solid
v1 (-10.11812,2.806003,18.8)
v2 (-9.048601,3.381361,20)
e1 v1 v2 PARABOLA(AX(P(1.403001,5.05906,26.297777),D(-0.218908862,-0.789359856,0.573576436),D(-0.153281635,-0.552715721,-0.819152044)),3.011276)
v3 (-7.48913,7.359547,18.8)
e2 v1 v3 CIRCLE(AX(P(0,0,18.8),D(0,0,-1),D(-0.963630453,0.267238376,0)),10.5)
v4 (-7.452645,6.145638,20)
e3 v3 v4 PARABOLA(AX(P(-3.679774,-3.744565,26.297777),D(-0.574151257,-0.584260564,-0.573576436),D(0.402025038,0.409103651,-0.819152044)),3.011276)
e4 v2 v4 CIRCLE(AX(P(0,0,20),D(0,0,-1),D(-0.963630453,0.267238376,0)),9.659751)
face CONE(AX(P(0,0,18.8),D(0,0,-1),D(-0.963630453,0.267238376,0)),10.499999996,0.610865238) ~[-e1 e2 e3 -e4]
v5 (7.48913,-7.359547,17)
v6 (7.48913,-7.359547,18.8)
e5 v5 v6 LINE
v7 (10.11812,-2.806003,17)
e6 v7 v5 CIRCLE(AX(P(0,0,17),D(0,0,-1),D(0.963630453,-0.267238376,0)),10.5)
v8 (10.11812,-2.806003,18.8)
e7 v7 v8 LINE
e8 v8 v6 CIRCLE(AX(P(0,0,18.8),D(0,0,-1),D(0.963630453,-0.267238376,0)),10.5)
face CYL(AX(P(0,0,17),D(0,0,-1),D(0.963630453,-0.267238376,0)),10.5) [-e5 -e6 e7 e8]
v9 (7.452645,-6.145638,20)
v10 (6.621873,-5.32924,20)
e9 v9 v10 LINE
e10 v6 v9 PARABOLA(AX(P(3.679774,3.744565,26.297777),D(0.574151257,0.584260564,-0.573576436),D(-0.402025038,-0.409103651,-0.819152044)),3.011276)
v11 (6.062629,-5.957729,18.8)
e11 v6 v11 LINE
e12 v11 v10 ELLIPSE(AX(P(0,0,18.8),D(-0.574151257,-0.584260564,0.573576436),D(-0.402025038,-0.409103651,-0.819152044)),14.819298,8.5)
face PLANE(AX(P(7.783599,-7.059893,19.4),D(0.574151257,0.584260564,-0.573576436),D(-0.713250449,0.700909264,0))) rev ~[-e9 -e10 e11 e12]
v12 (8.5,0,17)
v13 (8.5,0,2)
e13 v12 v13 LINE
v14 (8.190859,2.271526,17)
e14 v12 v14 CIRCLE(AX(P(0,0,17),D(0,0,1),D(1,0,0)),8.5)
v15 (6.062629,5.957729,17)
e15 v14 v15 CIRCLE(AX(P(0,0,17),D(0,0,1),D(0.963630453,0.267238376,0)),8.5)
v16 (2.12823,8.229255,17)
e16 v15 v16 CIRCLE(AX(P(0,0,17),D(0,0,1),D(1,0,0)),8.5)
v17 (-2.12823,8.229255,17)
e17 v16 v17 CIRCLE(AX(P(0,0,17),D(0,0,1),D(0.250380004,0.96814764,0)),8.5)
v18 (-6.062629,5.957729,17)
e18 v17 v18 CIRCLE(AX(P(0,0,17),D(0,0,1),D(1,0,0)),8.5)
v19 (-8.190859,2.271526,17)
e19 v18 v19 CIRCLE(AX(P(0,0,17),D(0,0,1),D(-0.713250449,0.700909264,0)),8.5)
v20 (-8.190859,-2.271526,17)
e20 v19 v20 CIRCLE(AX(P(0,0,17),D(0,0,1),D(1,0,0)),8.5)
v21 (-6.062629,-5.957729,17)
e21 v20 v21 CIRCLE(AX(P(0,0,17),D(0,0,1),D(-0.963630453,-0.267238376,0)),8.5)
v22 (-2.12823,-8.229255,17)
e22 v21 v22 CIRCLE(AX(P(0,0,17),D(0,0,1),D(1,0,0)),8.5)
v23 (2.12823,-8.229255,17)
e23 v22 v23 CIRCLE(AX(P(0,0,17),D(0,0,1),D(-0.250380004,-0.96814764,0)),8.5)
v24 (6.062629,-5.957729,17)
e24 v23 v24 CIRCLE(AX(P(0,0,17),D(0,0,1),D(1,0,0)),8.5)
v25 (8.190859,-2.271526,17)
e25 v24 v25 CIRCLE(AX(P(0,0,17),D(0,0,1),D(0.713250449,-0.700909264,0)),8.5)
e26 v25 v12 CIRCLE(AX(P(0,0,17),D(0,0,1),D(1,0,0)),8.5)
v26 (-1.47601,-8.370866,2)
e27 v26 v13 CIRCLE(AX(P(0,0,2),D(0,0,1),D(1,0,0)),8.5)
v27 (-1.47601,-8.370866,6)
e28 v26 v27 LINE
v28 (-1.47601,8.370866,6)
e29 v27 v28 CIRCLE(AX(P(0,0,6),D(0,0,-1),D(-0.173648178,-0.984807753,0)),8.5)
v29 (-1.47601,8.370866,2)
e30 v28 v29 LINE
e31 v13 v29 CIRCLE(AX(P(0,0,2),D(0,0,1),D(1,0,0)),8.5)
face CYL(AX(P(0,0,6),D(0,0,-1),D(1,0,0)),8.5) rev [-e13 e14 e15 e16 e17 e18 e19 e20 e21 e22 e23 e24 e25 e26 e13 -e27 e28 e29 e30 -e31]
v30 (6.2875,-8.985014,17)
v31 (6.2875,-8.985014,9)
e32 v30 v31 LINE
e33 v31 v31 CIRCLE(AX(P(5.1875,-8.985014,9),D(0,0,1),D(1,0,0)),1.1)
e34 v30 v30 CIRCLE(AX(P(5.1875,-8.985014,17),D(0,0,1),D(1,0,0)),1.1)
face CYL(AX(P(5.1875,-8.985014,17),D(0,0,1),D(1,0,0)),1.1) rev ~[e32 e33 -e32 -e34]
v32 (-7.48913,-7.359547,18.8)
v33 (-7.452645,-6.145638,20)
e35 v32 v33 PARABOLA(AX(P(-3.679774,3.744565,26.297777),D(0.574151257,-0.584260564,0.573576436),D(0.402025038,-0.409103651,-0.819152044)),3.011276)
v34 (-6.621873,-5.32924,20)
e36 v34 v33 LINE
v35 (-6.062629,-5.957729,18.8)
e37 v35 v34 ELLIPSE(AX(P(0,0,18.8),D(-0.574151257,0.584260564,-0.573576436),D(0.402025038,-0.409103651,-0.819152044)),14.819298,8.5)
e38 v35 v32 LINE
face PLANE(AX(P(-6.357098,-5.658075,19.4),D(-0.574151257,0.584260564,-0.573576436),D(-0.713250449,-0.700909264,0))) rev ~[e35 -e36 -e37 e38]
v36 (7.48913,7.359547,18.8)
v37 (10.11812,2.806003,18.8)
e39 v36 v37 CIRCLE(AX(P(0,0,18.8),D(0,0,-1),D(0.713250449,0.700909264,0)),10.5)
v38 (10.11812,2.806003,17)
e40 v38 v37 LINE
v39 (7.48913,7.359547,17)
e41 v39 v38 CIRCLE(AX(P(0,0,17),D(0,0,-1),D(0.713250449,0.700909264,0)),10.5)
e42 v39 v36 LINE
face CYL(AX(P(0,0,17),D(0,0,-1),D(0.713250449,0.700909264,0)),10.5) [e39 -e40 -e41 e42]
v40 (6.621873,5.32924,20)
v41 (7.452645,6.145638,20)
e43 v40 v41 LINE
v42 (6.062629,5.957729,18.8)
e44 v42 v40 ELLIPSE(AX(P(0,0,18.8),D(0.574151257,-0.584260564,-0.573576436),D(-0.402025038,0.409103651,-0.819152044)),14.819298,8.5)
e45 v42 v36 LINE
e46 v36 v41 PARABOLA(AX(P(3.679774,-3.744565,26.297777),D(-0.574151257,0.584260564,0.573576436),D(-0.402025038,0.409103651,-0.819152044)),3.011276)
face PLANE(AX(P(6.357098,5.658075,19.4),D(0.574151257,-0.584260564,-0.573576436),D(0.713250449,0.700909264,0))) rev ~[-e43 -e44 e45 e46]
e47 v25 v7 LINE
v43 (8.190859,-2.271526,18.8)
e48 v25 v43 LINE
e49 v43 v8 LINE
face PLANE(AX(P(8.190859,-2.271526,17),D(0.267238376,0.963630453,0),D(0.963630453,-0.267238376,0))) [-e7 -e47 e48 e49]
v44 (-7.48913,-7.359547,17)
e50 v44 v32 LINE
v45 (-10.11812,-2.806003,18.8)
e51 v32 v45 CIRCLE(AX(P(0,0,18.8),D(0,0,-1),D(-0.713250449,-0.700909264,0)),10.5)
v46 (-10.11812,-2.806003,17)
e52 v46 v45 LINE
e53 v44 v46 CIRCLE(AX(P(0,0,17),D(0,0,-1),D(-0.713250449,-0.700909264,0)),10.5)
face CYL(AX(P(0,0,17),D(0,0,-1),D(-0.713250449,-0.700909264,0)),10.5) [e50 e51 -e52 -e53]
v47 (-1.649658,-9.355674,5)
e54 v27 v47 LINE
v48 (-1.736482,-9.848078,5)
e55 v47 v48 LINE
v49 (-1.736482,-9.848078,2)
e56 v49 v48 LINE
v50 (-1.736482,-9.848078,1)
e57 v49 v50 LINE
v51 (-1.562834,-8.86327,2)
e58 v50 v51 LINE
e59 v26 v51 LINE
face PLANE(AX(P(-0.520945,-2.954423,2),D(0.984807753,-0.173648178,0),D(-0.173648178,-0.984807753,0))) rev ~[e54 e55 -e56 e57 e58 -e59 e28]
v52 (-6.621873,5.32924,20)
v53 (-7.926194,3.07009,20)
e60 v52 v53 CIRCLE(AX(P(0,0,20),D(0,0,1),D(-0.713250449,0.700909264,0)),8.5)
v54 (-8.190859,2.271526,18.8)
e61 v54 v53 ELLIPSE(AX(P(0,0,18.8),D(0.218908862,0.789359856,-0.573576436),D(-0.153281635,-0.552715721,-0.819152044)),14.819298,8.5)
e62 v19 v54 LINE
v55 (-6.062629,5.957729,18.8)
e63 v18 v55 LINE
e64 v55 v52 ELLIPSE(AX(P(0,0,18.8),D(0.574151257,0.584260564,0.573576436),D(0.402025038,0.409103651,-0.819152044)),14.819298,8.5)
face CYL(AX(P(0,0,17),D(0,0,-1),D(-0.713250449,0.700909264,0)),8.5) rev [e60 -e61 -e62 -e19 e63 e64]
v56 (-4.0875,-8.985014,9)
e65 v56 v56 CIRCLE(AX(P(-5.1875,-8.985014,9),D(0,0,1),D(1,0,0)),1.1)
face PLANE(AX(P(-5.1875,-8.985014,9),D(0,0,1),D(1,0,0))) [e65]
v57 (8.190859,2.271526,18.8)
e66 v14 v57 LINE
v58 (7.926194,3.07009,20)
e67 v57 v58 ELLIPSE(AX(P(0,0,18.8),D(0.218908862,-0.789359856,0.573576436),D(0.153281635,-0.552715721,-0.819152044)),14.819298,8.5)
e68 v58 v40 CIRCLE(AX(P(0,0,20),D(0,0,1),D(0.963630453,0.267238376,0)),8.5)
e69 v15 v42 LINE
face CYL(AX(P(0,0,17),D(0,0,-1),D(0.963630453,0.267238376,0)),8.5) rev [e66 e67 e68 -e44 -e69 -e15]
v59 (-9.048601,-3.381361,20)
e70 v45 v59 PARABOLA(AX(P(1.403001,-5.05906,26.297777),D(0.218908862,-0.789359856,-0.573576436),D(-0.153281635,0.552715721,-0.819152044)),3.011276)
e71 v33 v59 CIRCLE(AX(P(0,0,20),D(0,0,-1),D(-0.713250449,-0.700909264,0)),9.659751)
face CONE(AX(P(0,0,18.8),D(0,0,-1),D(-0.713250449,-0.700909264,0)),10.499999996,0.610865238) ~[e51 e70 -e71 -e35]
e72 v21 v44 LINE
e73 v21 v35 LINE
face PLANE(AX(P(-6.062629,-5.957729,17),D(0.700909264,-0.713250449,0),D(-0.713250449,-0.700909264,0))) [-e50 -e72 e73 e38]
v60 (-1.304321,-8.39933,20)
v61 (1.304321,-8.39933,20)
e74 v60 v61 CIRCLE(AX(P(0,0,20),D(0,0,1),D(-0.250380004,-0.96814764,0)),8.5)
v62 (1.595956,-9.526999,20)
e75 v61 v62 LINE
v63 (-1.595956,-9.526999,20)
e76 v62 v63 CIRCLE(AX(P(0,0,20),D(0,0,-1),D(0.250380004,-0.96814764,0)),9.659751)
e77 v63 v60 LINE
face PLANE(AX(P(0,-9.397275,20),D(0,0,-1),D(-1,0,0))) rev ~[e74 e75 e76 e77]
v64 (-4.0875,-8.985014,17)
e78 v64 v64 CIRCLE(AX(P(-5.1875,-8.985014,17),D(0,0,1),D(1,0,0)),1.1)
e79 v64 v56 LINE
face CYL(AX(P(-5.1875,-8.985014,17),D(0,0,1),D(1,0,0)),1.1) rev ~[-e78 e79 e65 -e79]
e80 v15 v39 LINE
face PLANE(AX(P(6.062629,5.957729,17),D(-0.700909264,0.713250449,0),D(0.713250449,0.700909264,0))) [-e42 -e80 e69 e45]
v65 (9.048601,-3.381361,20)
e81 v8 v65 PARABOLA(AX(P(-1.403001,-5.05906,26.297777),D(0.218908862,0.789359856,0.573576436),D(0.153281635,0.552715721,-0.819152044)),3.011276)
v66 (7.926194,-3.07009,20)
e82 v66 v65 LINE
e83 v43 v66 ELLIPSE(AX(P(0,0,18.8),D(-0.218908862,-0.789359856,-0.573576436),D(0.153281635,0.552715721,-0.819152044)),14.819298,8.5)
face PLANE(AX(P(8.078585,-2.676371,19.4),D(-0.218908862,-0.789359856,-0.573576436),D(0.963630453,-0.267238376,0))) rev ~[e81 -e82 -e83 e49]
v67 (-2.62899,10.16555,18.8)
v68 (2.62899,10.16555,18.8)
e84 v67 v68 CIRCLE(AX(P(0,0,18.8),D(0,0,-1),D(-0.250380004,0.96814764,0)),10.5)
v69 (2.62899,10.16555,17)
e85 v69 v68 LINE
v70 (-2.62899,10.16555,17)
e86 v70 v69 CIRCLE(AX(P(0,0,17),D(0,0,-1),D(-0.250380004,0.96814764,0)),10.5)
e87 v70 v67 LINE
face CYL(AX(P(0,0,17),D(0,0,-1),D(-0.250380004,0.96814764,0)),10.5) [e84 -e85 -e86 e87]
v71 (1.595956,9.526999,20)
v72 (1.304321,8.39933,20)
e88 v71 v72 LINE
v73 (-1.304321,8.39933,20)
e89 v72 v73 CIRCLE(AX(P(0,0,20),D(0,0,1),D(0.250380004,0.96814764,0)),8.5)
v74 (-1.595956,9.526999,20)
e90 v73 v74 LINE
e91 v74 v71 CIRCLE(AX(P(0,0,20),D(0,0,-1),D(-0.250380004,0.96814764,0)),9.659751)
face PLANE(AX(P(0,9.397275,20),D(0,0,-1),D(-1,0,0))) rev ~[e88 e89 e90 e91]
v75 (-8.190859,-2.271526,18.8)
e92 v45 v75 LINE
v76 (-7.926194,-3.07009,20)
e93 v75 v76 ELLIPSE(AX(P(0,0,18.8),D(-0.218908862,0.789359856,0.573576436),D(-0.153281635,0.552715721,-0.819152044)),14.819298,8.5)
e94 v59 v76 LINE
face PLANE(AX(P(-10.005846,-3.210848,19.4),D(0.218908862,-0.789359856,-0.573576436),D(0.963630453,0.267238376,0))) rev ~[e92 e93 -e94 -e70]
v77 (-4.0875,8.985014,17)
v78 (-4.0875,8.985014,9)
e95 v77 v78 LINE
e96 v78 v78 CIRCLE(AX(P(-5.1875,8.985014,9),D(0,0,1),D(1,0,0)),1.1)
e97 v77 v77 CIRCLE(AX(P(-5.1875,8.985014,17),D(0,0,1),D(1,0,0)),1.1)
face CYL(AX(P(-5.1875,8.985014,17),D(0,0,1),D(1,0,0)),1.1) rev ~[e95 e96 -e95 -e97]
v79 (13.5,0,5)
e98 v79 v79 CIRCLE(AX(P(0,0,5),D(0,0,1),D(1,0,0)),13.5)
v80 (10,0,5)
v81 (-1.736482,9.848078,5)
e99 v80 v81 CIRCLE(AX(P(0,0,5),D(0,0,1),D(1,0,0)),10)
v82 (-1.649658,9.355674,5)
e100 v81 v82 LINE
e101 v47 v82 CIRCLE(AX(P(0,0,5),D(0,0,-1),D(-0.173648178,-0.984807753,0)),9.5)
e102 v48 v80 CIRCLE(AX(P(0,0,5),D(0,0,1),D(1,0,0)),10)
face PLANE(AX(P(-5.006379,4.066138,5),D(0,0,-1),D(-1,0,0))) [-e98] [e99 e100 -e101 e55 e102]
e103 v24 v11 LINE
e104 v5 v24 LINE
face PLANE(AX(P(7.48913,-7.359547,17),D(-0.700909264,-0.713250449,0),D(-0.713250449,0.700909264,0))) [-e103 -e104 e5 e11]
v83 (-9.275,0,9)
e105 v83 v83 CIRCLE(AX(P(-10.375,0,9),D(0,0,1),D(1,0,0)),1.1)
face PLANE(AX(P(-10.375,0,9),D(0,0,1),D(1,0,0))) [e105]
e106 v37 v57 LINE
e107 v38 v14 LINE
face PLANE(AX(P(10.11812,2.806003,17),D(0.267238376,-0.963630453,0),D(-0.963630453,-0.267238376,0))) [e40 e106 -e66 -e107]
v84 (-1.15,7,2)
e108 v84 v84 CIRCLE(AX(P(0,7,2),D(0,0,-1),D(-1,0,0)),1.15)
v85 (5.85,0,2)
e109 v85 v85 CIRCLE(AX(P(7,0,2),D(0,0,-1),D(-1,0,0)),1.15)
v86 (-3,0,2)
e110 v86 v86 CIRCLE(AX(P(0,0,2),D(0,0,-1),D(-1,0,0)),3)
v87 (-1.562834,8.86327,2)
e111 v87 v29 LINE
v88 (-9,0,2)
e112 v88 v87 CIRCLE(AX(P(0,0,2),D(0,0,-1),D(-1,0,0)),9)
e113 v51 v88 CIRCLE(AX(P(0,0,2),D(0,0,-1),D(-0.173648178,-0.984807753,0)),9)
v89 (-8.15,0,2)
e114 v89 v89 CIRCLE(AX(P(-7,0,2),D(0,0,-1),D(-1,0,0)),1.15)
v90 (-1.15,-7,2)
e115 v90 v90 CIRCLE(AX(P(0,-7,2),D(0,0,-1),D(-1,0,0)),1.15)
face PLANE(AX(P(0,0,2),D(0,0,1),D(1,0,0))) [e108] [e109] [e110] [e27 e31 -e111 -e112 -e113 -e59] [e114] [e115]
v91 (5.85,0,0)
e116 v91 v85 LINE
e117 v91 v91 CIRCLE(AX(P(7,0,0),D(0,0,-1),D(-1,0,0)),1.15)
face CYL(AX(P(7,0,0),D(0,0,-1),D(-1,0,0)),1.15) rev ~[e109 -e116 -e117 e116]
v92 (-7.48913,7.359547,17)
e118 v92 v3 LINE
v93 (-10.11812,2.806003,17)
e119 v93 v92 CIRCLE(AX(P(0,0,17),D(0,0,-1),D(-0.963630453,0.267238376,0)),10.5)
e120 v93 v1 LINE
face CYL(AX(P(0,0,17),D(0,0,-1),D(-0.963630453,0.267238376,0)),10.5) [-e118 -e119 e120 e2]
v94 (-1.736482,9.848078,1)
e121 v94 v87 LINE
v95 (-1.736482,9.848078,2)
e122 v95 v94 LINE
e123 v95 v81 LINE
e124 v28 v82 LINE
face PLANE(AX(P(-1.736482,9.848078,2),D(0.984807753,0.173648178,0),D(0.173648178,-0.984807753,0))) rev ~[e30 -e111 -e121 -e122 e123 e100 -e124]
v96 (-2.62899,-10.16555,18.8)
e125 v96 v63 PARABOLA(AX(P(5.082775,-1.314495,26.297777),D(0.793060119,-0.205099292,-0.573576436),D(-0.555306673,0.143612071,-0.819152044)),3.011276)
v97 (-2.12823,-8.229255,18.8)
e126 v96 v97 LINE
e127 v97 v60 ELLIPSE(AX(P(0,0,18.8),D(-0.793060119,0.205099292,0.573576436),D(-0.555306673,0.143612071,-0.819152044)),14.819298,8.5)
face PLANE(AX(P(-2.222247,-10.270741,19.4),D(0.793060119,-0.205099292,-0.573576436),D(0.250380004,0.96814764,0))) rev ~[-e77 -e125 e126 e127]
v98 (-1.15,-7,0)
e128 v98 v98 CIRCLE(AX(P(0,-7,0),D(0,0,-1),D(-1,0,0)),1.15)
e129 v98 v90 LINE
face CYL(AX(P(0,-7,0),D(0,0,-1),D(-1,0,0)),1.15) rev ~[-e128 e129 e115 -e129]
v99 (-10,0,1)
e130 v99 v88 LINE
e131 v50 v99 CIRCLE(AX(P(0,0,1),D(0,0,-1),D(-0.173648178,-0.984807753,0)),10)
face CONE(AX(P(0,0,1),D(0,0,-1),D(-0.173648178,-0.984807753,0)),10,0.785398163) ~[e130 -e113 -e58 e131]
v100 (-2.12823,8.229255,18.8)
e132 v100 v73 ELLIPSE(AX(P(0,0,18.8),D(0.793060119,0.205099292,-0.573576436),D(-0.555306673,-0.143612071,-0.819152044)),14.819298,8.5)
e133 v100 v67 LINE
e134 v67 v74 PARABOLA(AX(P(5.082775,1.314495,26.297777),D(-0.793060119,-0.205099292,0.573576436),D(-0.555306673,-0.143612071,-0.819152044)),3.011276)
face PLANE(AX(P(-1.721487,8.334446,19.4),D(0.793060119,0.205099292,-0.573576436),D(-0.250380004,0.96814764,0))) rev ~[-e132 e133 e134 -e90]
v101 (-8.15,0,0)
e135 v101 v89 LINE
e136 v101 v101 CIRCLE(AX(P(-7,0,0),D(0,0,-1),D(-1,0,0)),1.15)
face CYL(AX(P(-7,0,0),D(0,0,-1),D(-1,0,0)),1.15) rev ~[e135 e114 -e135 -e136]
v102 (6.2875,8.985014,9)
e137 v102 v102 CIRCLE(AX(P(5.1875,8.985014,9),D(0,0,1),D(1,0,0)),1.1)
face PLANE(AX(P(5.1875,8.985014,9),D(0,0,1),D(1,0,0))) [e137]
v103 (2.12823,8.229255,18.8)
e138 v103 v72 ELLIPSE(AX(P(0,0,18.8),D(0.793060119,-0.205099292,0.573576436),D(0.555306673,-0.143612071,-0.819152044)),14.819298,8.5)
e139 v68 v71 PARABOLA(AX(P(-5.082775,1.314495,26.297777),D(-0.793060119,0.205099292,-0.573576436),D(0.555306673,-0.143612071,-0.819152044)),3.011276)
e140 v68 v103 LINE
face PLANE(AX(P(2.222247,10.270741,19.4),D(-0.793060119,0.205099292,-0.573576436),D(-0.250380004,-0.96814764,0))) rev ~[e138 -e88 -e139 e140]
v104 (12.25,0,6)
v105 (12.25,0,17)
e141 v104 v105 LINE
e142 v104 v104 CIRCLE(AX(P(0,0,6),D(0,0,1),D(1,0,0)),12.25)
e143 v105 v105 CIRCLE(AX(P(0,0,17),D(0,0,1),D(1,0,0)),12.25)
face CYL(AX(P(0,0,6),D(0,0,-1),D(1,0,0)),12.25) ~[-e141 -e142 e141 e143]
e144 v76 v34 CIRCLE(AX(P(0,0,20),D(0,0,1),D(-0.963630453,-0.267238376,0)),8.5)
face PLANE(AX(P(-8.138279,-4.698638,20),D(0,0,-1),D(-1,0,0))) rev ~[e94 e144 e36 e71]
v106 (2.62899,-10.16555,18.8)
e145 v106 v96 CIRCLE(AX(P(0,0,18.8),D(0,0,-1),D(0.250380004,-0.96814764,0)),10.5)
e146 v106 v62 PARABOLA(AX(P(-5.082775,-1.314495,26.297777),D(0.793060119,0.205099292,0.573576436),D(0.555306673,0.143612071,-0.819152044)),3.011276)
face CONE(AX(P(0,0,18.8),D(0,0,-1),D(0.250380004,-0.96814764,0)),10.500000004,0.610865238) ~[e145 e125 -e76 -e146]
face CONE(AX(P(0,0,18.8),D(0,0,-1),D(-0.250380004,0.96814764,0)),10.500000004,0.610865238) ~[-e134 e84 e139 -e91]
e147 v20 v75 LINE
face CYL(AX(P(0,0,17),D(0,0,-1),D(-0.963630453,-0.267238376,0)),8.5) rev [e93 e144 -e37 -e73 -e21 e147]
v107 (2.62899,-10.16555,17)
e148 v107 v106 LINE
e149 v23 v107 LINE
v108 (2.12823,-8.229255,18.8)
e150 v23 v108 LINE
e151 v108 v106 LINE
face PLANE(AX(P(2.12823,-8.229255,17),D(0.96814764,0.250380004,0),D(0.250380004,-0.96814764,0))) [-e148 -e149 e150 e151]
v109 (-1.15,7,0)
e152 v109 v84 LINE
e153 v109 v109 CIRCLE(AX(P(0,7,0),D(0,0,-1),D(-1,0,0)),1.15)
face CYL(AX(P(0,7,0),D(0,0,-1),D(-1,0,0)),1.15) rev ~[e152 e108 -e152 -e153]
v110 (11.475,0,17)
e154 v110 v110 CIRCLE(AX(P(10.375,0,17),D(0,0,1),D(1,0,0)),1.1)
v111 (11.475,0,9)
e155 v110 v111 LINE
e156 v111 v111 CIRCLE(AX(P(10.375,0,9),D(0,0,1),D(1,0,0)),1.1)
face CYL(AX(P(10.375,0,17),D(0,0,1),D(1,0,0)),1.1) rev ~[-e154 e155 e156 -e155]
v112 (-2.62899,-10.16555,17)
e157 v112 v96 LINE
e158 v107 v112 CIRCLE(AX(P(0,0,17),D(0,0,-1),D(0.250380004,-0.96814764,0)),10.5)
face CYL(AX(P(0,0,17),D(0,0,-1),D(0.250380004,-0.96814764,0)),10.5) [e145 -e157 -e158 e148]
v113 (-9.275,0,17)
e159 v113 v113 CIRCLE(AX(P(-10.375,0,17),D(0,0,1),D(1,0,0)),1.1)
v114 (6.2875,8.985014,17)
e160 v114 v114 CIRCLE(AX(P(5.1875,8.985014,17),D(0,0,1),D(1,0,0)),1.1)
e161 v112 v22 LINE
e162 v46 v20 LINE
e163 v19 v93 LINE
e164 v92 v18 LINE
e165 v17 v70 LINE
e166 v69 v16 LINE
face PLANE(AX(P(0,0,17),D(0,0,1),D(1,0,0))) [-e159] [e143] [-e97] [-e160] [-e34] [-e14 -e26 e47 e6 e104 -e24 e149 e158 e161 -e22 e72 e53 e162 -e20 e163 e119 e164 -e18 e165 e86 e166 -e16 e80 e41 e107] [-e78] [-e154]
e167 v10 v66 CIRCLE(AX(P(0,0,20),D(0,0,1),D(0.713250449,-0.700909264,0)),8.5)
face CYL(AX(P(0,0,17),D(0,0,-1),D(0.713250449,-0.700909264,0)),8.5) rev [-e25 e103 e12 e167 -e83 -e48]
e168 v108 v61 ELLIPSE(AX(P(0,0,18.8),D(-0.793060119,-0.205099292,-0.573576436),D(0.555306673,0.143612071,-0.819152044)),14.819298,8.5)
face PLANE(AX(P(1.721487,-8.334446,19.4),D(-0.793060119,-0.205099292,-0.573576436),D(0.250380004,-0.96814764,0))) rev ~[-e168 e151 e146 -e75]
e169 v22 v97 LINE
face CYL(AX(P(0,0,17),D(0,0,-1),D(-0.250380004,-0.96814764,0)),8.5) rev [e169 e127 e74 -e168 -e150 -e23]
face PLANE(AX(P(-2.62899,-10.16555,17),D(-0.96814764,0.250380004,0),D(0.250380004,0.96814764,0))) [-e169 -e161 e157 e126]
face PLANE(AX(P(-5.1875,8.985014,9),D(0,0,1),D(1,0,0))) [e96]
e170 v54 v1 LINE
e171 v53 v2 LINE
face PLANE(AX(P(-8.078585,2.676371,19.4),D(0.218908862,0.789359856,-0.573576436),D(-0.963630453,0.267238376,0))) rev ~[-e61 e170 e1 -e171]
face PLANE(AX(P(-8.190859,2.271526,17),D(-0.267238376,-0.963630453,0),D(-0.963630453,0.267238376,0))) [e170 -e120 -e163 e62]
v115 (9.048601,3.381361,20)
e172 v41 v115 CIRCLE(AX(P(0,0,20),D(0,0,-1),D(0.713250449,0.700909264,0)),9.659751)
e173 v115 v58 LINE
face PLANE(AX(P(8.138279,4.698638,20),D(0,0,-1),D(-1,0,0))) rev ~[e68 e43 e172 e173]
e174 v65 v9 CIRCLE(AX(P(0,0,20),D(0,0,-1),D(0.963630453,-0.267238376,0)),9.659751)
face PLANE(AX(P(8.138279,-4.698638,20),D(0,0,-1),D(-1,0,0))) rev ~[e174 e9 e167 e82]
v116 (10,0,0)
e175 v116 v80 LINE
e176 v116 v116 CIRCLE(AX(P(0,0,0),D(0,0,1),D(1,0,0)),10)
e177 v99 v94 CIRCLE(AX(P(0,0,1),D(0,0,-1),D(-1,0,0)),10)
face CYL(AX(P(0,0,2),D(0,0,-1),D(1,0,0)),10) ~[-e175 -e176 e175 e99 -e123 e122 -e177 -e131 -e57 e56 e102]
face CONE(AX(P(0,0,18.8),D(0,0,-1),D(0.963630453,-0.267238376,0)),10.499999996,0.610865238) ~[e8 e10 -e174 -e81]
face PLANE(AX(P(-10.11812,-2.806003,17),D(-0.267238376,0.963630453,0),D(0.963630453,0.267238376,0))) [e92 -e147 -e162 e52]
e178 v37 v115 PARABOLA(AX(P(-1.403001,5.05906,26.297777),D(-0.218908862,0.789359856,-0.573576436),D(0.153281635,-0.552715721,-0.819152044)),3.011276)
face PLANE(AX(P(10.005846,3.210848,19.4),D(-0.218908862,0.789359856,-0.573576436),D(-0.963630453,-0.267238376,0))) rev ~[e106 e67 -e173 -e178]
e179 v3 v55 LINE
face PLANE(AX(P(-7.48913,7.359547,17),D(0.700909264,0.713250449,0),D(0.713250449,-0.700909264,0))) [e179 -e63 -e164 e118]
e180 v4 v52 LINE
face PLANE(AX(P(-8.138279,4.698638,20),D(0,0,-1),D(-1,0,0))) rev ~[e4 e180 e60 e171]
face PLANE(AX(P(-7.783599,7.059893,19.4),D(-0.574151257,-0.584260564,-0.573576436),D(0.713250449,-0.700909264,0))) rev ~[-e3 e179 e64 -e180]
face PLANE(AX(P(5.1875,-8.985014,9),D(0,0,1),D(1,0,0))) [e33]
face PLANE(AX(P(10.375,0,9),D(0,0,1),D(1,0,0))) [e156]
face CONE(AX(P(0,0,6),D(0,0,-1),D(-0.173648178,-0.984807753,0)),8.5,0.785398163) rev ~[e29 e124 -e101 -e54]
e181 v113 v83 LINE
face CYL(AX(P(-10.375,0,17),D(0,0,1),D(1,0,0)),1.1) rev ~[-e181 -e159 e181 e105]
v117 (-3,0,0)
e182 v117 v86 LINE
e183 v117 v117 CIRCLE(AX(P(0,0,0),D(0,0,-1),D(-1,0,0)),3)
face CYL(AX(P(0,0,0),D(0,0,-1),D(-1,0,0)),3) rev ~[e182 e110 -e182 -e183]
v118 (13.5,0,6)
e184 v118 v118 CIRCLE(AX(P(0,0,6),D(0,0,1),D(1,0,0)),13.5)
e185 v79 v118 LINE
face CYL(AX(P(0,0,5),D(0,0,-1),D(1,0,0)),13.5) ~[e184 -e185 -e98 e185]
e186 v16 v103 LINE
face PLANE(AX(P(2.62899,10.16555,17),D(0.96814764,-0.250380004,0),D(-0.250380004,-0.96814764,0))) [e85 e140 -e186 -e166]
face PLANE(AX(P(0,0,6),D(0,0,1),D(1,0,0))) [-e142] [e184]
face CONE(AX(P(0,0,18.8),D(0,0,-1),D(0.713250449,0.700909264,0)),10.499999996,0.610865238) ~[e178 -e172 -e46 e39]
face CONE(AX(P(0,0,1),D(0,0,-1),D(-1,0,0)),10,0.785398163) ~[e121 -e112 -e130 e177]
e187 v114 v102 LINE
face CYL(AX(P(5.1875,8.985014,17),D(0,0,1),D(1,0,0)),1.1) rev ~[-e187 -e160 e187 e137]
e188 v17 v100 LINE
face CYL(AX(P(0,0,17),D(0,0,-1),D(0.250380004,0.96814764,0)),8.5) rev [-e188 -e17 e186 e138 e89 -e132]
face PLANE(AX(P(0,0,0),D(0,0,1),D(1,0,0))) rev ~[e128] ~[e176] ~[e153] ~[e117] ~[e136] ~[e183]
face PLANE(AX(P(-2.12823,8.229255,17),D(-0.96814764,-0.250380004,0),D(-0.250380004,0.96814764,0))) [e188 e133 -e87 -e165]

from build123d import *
from OCP.BRepFilletAPI import BRepFilletAPI_MakeChamfer

# Parameters (mm, degrees)
SKETCH_1_R          = 10
EXTRUDE_1_DEPTH     = 2
SKETCH_2_R          = 10
SKETCH_2_R_2        = 8.5
EXTRUDE_2_DEPTH     = 3
SKETCH_4_R          = 13.5
SKETCH_4_R_2        = 8.5
EXTRUDE_3_DEPTH     = 1
SKETCH_5_R          = 12.25
SKETCH_5_R_2        = 8.5
EXTRUDE_4_DEPTH     = 11
SKETCH_6_R          = 1.1
CUT_EXTRUDE_1_DEPTH = 8
SKETCH_7_R          = 3
SKETCH_7_R_2        = 1.15
CUT_EXTRUDE_2_DEPTH = 26.563646062
EXTRUDE_5_DEPTH     = 3
CHAMFER_1_SIZE      = 1.2
CHAMFER_1_SIZE2     = 0.840249046
CUT_EXTRUDE_START   = -2
CUT_EXTRUDE_3_DEPTH = 3
CHAMFER_2_SIZE      = 1


with BuildPart() as part:
    # 스케치1 → 보스-돌출1 (new body)
    with BuildSketch(Plane.XY):
        Circle(SKETCH_1_R)
    extrude(amount=EXTRUDE_1_DEPTH)

    # 스케치2 → 보스-돌출2 (add)
    with BuildSketch(Plane.XY.offset(2)):
        Circle(SKETCH_2_R)
        Circle(SKETCH_2_R_2, mode=Mode.SUBTRACT)
    extrude(amount=EXTRUDE_2_DEPTH)

    # 스케치4 → 보스-돌출3 (add)
    with BuildSketch(Plane.XY.offset(5)):
        Circle(SKETCH_4_R)
        Circle(SKETCH_4_R_2, mode=Mode.SUBTRACT)
    extrude(amount=EXTRUDE_3_DEPTH)

    # 스케치5 → 보스-돌출4 (add)
    with BuildSketch(Plane.XY.offset(6)):
        Circle(SKETCH_5_R)
        Circle(SKETCH_5_R_2, mode=Mode.SUBTRACT)
    extrude(amount=EXTRUDE_4_DEPTH)

    # 스케치6 → 컷-돌출1 (cut)
    with BuildSketch(Plane.XY.offset(17)):
        with Locations((10.375, 0)):
            Circle(SKETCH_6_R)
        with Locations((5.1875, -8.985013564)):
            Circle(SKETCH_6_R)
        with Locations((-5.1875, -8.985013564)):
            Circle(SKETCH_6_R)
        with Locations((-10.375, 0)):
            Circle(SKETCH_6_R)
        with Locations((-5.1875, 8.985013564)):
            Circle(SKETCH_6_R)
        with Locations((5.1875, 8.985013564)):
            Circle(SKETCH_6_R)
    extrude(amount=-CUT_EXTRUDE_1_DEPTH, mode=Mode.SUBTRACT)

    # 스케치7 → 컷-돌출2 (cut, through all)
    with BuildSketch(Plane(origin=(0, 0, 0), x_dir=(-1, 0, 0), z_dir=(0, 0, -1))):
        Circle(SKETCH_7_R)
        with Locations((-7, 0)):
            Circle(SKETCH_7_R_2)
        with Locations((7, 0)):
            Circle(SKETCH_7_R_2)
        with Locations((0, 7)):
            Circle(SKETCH_7_R_2)
        with Locations((0, -7)):
            Circle(SKETCH_7_R_2)
    extrude(amount=-CUT_EXTRUDE_2_DEPTH, mode=Mode.SUBTRACT)

    # 스케치10 → 보스-돌출5 (add)
    with BuildSketch(Plane.XY.offset(17)):
        with BuildLine():
            Line((-2.128230034, 8.229254943), (-2.628990043, 10.165550224))
            ThreePointArc((-2.628990043, 10.165550224), (0, 10.5), (2.628990043, 10.165550224))
            Line((2.628990043, 10.165550224), (2.128230034, 8.229254943))
            ThreePointArc((2.128230034, 8.229254943), (0, 8.5), (-2.128230034, 8.229254943))
        make_face()
        with BuildLine():
            Line((6.062628818, 5.957728747), (7.489129716, 7.359547275))
            ThreePointArc((7.489129716, 7.359547275), (9.09326674, 5.25), (10.118119759, 2.806002949))
            Line((10.118119759, 2.806002949), (8.190858852, 2.271526197))
            ThreePointArc((8.190858852, 2.271526197), (7.361215932, 4.25), (6.062628818, 5.957728747))
        make_face()
        with BuildLine():
            Line((-8.190858852, 2.271526197), (-10.118119759, 2.806002949))
            ThreePointArc((-10.118119759, 2.806002949), (-9.09326674, 5.25), (-7.489129716, 7.359547275))
            Line((-7.489129716, 7.359547275), (-6.062628818, 5.957728747))
            ThreePointArc((-6.062628818, 5.957728747), (-7.361215932, 4.25), (-8.190858852, 2.271526197))
        make_face()
        with BuildLine():
            Line((8.190858852, -2.271526197), (10.118119759, -2.806002949))
            ThreePointArc((10.118119759, -2.806002949), (9.09326674, -5.25), (7.489129716, -7.359547275))
            Line((7.489129716, -7.359547275), (6.062628818, -5.957728747))
            ThreePointArc((6.062628818, -5.957728747), (7.361215932, -4.25), (8.190858852, -2.271526197))
        make_face()
        with BuildLine():
            Line((2.128230034, -8.229254943), (2.628990043, -10.165550224))
            ThreePointArc((2.628990043, -10.165550224), (0, -10.5), (-2.628990043, -10.165550224))
            Line((-2.628990043, -10.165550224), (-2.128230034, -8.229254943))
            ThreePointArc((-2.128230034, -8.229254943), (0, -8.5), (2.128230034, -8.229254943))
        make_face()
        with BuildLine():
            Line((-6.062628818, -5.957728747), (-7.489129716, -7.359547275))
            ThreePointArc((-7.489129716, -7.359547275), (-9.09326674, -5.25), (-10.118119759, -2.806002949))
            Line((-10.118119759, -2.806002949), (-8.190858852, -2.271526197))
            ThreePointArc((-8.190858852, -2.271526197), (-7.361215932, -4.25), (-6.062628818, -5.957728747))
        make_face()
    extrude(amount=EXTRUDE_5_DEPTH)

    # 모따기1: one chamfer whose edges measure the first distance from different faces: ONE call of the kernel's chamfer builder (chamfer() names one face for all edges)
    chamfer_1_edges_1 = [part.edges().sort_by_distance(p)[0] for p in [
        (9.09326674, 5.25, 20),
    ]]
    chamfer_1_side_1 = [part.faces().sort_by_distance(p)[0] for p in [
        (9.09326674, 5.25, 18.5),
    ]]
    chamfer_1_edges_2 = [part.edges().sort_by_distance(p)[0] for p in [
        (6.775879267, 6.658638011, 20),
    ]]
    chamfer_1_side_2 = [part.faces().sort_by_distance(p)[0] for p in [
        (6.775879267, 6.658638011, 18.5),
    ]]
    chamfer_1_edges_3 = [part.edges().sort_by_distance(p)[0] for p in [
        (9.154489305, 2.538764573, 20),
    ]]
    chamfer_1_side_3 = [part.faces().sort_by_distance(p)[0] for p in [
        (9.154489305, 2.538764573, 18.5),
    ]]
    chamfer_1_edges_4 = [part.edges().sort_by_distance(p)[0] for p in [
        (-2.378610039, -9.197402584, 20),
    ]]
    chamfer_1_side_4 = [part.faces().sort_by_distance(p)[0] for p in [
        (-2.378610039, -9.197402584, 18.5),
    ]]
    chamfer_1_edges_5 = [part.edges().sort_by_distance(p)[0] for p in [
        (0, -10.5, 20),
    ]]
    chamfer_1_side_5 = [part.faces().sort_by_distance(p)[0] for p in [
        (0, -10.5, 18.5),
    ]]
    chamfer_1_edges_6 = [part.edges().sort_by_distance(p)[0] for p in [
        (2.378610039, -9.197402584, 20),
    ]]
    chamfer_1_side_6 = [part.faces().sort_by_distance(p)[0] for p in [
        (2.378610039, -9.197402584, 18.5),
    ]]
    chamfer_1_edges_7 = [part.edges().sort_by_distance(p)[0] for p in [
        (9.09326674, -5.25, 20),
    ]]
    chamfer_1_side_7 = [part.faces().sort_by_distance(p)[0] for p in [
        (9.09326674, -5.25, 18.5),
    ]]
    chamfer_1_edges_8 = [part.edges().sort_by_distance(p)[0] for p in [
        (9.154489305, -2.538764573, 20),
    ]]
    chamfer_1_side_8 = [part.faces().sort_by_distance(p)[0] for p in [
        (9.154489305, -2.538764573, 18.5),
    ]]
    chamfer_1_edges_9 = [part.edges().sort_by_distance(p)[0] for p in [
        (6.775879267, -6.658638011, 20),
    ]]
    chamfer_1_side_9 = [part.faces().sort_by_distance(p)[0] for p in [
        (6.775879267, -6.658638011, 18.5),
    ]]
    chamfer_1_edges_10 = [part.edges().sort_by_distance(p)[0] for p in [
        (2.378610039, 9.197402584, 20),
    ]]
    chamfer_1_side_10 = [part.faces().sort_by_distance(p)[0] for p in [
        (2.378610039, 9.197402584, 18.5),
    ]]
    chamfer_1_edges_11 = [part.edges().sort_by_distance(p)[0] for p in [
        (0, 10.5, 20),
    ]]
    chamfer_1_side_11 = [part.faces().sort_by_distance(p)[0] for p in [
        (0, 10.5, 18.5),
    ]]
    chamfer_1_edges_12 = [part.edges().sort_by_distance(p)[0] for p in [
        (-2.378610039, 9.197402584, 20),
    ]]
    chamfer_1_side_12 = [part.faces().sort_by_distance(p)[0] for p in [
        (-2.378610039, 9.197402584, 18.5),
    ]]
    chamfer_1_edges_13 = [part.edges().sort_by_distance(p)[0] for p in [
        (-6.775879267, 6.658638011, 20),
    ]]
    chamfer_1_side_13 = [part.faces().sort_by_distance(p)[0] for p in [
        (-6.775879267, 6.658638011, 18.5),
    ]]
    chamfer_1_edges_14 = [part.edges().sort_by_distance(p)[0] for p in [
        (-9.09326674, 5.25, 20),
    ]]
    chamfer_1_side_14 = [part.faces().sort_by_distance(p)[0] for p in [
        (-9.09326674, 5.25, 18.5),
    ]]
    chamfer_1_edges_15 = [part.edges().sort_by_distance(p)[0] for p in [
        (-9.154489305, 2.538764573, 20),
    ]]
    chamfer_1_side_15 = [part.faces().sort_by_distance(p)[0] for p in [
        (-9.154489305, 2.538764573, 18.5),
    ]]
    chamfer_1_edges_16 = [part.edges().sort_by_distance(p)[0] for p in [
        (-9.154489305, -2.538764573, 20),
    ]]
    chamfer_1_side_16 = [part.faces().sort_by_distance(p)[0] for p in [
        (-9.154489305, -2.538764573, 18.5),
    ]]
    chamfer_1_edges_17 = [part.edges().sort_by_distance(p)[0] for p in [
        (-9.09326674, -5.25, 20),
    ]]
    chamfer_1_side_17 = [part.faces().sort_by_distance(p)[0] for p in [
        (-9.09326674, -5.25, 18.5),
    ]]
    chamfer_1_edges_18 = [part.edges().sort_by_distance(p)[0] for p in [
        (-6.775879267, -6.658638011, 20),
    ]]
    chamfer_1_side_18 = [part.faces().sort_by_distance(p)[0] for p in [
        (-6.775879267, -6.658638011, 18.5),
    ]]
    chamfer_1 = BRepFilletAPI_MakeChamfer(part.part.solid().wrapped)
    for e in chamfer_1_edges_1:
        chamfer_1.Add(CHAMFER_1_SIZE, CHAMFER_1_SIZE2, e.wrapped, chamfer_1_side_1[0].wrapped)  # the first distance lies on this face
    for e in chamfer_1_edges_2:
        chamfer_1.Add(CHAMFER_1_SIZE, CHAMFER_1_SIZE2, e.wrapped, chamfer_1_side_2[0].wrapped)  # the first distance lies on this face
    for e in chamfer_1_edges_3:
        chamfer_1.Add(CHAMFER_1_SIZE, CHAMFER_1_SIZE2, e.wrapped, chamfer_1_side_3[0].wrapped)  # the first distance lies on this face
    for e in chamfer_1_edges_4:
        chamfer_1.Add(CHAMFER_1_SIZE, CHAMFER_1_SIZE2, e.wrapped, chamfer_1_side_4[0].wrapped)  # the first distance lies on this face
    for e in chamfer_1_edges_5:
        chamfer_1.Add(CHAMFER_1_SIZE, CHAMFER_1_SIZE2, e.wrapped, chamfer_1_side_5[0].wrapped)  # the first distance lies on this face
    for e in chamfer_1_edges_6:
        chamfer_1.Add(CHAMFER_1_SIZE, CHAMFER_1_SIZE2, e.wrapped, chamfer_1_side_6[0].wrapped)  # the first distance lies on this face
    for e in chamfer_1_edges_7:
        chamfer_1.Add(CHAMFER_1_SIZE, CHAMFER_1_SIZE2, e.wrapped, chamfer_1_side_7[0].wrapped)  # the first distance lies on this face
    for e in chamfer_1_edges_8:
        chamfer_1.Add(CHAMFER_1_SIZE, CHAMFER_1_SIZE2, e.wrapped, chamfer_1_side_8[0].wrapped)  # the first distance lies on this face
    for e in chamfer_1_edges_9:
        chamfer_1.Add(CHAMFER_1_SIZE, CHAMFER_1_SIZE2, e.wrapped, chamfer_1_side_9[0].wrapped)  # the first distance lies on this face
    for e in chamfer_1_edges_10:
        chamfer_1.Add(CHAMFER_1_SIZE, CHAMFER_1_SIZE2, e.wrapped, chamfer_1_side_10[0].wrapped)  # the first distance lies on this face
    for e in chamfer_1_edges_11:
        chamfer_1.Add(CHAMFER_1_SIZE, CHAMFER_1_SIZE2, e.wrapped, chamfer_1_side_11[0].wrapped)  # the first distance lies on this face
    for e in chamfer_1_edges_12:
        chamfer_1.Add(CHAMFER_1_SIZE, CHAMFER_1_SIZE2, e.wrapped, chamfer_1_side_12[0].wrapped)  # the first distance lies on this face
    for e in chamfer_1_edges_13:
        chamfer_1.Add(CHAMFER_1_SIZE, CHAMFER_1_SIZE2, e.wrapped, chamfer_1_side_13[0].wrapped)  # the first distance lies on this face
    for e in chamfer_1_edges_14:
        chamfer_1.Add(CHAMFER_1_SIZE, CHAMFER_1_SIZE2, e.wrapped, chamfer_1_side_14[0].wrapped)  # the first distance lies on this face
    for e in chamfer_1_edges_15:
        chamfer_1.Add(CHAMFER_1_SIZE, CHAMFER_1_SIZE2, e.wrapped, chamfer_1_side_15[0].wrapped)  # the first distance lies on this face
    for e in chamfer_1_edges_16:
        chamfer_1.Add(CHAMFER_1_SIZE, CHAMFER_1_SIZE2, e.wrapped, chamfer_1_side_16[0].wrapped)  # the first distance lies on this face
    for e in chamfer_1_edges_17:
        chamfer_1.Add(CHAMFER_1_SIZE, CHAMFER_1_SIZE2, e.wrapped, chamfer_1_side_17[0].wrapped)  # the first distance lies on this face
    for e in chamfer_1_edges_18:
        chamfer_1.Add(CHAMFER_1_SIZE, CHAMFER_1_SIZE2, e.wrapped, chamfer_1_side_18[0].wrapped)  # the first distance lies on this face
    add(Compound.cast(chamfer_1.Shape()), mode=Mode.REPLACE)

    # 스케치11 → 컷-돌출3 (cut)
    with BuildSketch(Plane(origin=(0, 0, 0), x_dir=(-1, 0, 0), z_dir=(0, 0, -1)).offset(CUT_EXTRUDE_START)):
        with BuildLine():
            Line((1.736481777, 9.84807753), (0.520944533, 2.954423259))
            ThreePointArc((0.520944533, 2.954423259), (2.298133329, 1.928362829), (3, 0))
            Line((3, 0), (5.85, 0))
            ThreePointArc((5.85, 0), (7, 1.15), (8.15, 0))
            Line((8.15, 0), (10, 0))
            ThreePointArc((10, 0), (7.660444431, 6.427876097), (1.736481777, 9.84807753))
        make_face()
        with BuildLine():
            ThreePointArc((3, 0), (2.298133329, -1.928362829), (0.520944533, -2.954423259))
            Line((0.520944533, -2.954423259), (1.736481777, -9.84807753))
            ThreePointArc((1.736481777, -9.84807753), (7.660444431, -6.427876097), (10, 0))
            Line((10, 0), (8.15, 0))
            ThreePointArc((8.15, 0), (7, -1.15), (5.85, 0))
            Line((5.85, 0), (3, 0))
        make_face()
    extrude(amount=-CUT_EXTRUDE_3_DEPTH, mode=Mode.SUBTRACT)

    # 모따기2
    chamfer_2_edges = [part.edges().sort_by_distance(p)[0] for p in [
        (-8.5, 0, 5),
        (-10, 0, 2),
    ]]
    chamfer(chamfer_2_edges, length=CHAMFER_2_SIZE)


solid = part.part
